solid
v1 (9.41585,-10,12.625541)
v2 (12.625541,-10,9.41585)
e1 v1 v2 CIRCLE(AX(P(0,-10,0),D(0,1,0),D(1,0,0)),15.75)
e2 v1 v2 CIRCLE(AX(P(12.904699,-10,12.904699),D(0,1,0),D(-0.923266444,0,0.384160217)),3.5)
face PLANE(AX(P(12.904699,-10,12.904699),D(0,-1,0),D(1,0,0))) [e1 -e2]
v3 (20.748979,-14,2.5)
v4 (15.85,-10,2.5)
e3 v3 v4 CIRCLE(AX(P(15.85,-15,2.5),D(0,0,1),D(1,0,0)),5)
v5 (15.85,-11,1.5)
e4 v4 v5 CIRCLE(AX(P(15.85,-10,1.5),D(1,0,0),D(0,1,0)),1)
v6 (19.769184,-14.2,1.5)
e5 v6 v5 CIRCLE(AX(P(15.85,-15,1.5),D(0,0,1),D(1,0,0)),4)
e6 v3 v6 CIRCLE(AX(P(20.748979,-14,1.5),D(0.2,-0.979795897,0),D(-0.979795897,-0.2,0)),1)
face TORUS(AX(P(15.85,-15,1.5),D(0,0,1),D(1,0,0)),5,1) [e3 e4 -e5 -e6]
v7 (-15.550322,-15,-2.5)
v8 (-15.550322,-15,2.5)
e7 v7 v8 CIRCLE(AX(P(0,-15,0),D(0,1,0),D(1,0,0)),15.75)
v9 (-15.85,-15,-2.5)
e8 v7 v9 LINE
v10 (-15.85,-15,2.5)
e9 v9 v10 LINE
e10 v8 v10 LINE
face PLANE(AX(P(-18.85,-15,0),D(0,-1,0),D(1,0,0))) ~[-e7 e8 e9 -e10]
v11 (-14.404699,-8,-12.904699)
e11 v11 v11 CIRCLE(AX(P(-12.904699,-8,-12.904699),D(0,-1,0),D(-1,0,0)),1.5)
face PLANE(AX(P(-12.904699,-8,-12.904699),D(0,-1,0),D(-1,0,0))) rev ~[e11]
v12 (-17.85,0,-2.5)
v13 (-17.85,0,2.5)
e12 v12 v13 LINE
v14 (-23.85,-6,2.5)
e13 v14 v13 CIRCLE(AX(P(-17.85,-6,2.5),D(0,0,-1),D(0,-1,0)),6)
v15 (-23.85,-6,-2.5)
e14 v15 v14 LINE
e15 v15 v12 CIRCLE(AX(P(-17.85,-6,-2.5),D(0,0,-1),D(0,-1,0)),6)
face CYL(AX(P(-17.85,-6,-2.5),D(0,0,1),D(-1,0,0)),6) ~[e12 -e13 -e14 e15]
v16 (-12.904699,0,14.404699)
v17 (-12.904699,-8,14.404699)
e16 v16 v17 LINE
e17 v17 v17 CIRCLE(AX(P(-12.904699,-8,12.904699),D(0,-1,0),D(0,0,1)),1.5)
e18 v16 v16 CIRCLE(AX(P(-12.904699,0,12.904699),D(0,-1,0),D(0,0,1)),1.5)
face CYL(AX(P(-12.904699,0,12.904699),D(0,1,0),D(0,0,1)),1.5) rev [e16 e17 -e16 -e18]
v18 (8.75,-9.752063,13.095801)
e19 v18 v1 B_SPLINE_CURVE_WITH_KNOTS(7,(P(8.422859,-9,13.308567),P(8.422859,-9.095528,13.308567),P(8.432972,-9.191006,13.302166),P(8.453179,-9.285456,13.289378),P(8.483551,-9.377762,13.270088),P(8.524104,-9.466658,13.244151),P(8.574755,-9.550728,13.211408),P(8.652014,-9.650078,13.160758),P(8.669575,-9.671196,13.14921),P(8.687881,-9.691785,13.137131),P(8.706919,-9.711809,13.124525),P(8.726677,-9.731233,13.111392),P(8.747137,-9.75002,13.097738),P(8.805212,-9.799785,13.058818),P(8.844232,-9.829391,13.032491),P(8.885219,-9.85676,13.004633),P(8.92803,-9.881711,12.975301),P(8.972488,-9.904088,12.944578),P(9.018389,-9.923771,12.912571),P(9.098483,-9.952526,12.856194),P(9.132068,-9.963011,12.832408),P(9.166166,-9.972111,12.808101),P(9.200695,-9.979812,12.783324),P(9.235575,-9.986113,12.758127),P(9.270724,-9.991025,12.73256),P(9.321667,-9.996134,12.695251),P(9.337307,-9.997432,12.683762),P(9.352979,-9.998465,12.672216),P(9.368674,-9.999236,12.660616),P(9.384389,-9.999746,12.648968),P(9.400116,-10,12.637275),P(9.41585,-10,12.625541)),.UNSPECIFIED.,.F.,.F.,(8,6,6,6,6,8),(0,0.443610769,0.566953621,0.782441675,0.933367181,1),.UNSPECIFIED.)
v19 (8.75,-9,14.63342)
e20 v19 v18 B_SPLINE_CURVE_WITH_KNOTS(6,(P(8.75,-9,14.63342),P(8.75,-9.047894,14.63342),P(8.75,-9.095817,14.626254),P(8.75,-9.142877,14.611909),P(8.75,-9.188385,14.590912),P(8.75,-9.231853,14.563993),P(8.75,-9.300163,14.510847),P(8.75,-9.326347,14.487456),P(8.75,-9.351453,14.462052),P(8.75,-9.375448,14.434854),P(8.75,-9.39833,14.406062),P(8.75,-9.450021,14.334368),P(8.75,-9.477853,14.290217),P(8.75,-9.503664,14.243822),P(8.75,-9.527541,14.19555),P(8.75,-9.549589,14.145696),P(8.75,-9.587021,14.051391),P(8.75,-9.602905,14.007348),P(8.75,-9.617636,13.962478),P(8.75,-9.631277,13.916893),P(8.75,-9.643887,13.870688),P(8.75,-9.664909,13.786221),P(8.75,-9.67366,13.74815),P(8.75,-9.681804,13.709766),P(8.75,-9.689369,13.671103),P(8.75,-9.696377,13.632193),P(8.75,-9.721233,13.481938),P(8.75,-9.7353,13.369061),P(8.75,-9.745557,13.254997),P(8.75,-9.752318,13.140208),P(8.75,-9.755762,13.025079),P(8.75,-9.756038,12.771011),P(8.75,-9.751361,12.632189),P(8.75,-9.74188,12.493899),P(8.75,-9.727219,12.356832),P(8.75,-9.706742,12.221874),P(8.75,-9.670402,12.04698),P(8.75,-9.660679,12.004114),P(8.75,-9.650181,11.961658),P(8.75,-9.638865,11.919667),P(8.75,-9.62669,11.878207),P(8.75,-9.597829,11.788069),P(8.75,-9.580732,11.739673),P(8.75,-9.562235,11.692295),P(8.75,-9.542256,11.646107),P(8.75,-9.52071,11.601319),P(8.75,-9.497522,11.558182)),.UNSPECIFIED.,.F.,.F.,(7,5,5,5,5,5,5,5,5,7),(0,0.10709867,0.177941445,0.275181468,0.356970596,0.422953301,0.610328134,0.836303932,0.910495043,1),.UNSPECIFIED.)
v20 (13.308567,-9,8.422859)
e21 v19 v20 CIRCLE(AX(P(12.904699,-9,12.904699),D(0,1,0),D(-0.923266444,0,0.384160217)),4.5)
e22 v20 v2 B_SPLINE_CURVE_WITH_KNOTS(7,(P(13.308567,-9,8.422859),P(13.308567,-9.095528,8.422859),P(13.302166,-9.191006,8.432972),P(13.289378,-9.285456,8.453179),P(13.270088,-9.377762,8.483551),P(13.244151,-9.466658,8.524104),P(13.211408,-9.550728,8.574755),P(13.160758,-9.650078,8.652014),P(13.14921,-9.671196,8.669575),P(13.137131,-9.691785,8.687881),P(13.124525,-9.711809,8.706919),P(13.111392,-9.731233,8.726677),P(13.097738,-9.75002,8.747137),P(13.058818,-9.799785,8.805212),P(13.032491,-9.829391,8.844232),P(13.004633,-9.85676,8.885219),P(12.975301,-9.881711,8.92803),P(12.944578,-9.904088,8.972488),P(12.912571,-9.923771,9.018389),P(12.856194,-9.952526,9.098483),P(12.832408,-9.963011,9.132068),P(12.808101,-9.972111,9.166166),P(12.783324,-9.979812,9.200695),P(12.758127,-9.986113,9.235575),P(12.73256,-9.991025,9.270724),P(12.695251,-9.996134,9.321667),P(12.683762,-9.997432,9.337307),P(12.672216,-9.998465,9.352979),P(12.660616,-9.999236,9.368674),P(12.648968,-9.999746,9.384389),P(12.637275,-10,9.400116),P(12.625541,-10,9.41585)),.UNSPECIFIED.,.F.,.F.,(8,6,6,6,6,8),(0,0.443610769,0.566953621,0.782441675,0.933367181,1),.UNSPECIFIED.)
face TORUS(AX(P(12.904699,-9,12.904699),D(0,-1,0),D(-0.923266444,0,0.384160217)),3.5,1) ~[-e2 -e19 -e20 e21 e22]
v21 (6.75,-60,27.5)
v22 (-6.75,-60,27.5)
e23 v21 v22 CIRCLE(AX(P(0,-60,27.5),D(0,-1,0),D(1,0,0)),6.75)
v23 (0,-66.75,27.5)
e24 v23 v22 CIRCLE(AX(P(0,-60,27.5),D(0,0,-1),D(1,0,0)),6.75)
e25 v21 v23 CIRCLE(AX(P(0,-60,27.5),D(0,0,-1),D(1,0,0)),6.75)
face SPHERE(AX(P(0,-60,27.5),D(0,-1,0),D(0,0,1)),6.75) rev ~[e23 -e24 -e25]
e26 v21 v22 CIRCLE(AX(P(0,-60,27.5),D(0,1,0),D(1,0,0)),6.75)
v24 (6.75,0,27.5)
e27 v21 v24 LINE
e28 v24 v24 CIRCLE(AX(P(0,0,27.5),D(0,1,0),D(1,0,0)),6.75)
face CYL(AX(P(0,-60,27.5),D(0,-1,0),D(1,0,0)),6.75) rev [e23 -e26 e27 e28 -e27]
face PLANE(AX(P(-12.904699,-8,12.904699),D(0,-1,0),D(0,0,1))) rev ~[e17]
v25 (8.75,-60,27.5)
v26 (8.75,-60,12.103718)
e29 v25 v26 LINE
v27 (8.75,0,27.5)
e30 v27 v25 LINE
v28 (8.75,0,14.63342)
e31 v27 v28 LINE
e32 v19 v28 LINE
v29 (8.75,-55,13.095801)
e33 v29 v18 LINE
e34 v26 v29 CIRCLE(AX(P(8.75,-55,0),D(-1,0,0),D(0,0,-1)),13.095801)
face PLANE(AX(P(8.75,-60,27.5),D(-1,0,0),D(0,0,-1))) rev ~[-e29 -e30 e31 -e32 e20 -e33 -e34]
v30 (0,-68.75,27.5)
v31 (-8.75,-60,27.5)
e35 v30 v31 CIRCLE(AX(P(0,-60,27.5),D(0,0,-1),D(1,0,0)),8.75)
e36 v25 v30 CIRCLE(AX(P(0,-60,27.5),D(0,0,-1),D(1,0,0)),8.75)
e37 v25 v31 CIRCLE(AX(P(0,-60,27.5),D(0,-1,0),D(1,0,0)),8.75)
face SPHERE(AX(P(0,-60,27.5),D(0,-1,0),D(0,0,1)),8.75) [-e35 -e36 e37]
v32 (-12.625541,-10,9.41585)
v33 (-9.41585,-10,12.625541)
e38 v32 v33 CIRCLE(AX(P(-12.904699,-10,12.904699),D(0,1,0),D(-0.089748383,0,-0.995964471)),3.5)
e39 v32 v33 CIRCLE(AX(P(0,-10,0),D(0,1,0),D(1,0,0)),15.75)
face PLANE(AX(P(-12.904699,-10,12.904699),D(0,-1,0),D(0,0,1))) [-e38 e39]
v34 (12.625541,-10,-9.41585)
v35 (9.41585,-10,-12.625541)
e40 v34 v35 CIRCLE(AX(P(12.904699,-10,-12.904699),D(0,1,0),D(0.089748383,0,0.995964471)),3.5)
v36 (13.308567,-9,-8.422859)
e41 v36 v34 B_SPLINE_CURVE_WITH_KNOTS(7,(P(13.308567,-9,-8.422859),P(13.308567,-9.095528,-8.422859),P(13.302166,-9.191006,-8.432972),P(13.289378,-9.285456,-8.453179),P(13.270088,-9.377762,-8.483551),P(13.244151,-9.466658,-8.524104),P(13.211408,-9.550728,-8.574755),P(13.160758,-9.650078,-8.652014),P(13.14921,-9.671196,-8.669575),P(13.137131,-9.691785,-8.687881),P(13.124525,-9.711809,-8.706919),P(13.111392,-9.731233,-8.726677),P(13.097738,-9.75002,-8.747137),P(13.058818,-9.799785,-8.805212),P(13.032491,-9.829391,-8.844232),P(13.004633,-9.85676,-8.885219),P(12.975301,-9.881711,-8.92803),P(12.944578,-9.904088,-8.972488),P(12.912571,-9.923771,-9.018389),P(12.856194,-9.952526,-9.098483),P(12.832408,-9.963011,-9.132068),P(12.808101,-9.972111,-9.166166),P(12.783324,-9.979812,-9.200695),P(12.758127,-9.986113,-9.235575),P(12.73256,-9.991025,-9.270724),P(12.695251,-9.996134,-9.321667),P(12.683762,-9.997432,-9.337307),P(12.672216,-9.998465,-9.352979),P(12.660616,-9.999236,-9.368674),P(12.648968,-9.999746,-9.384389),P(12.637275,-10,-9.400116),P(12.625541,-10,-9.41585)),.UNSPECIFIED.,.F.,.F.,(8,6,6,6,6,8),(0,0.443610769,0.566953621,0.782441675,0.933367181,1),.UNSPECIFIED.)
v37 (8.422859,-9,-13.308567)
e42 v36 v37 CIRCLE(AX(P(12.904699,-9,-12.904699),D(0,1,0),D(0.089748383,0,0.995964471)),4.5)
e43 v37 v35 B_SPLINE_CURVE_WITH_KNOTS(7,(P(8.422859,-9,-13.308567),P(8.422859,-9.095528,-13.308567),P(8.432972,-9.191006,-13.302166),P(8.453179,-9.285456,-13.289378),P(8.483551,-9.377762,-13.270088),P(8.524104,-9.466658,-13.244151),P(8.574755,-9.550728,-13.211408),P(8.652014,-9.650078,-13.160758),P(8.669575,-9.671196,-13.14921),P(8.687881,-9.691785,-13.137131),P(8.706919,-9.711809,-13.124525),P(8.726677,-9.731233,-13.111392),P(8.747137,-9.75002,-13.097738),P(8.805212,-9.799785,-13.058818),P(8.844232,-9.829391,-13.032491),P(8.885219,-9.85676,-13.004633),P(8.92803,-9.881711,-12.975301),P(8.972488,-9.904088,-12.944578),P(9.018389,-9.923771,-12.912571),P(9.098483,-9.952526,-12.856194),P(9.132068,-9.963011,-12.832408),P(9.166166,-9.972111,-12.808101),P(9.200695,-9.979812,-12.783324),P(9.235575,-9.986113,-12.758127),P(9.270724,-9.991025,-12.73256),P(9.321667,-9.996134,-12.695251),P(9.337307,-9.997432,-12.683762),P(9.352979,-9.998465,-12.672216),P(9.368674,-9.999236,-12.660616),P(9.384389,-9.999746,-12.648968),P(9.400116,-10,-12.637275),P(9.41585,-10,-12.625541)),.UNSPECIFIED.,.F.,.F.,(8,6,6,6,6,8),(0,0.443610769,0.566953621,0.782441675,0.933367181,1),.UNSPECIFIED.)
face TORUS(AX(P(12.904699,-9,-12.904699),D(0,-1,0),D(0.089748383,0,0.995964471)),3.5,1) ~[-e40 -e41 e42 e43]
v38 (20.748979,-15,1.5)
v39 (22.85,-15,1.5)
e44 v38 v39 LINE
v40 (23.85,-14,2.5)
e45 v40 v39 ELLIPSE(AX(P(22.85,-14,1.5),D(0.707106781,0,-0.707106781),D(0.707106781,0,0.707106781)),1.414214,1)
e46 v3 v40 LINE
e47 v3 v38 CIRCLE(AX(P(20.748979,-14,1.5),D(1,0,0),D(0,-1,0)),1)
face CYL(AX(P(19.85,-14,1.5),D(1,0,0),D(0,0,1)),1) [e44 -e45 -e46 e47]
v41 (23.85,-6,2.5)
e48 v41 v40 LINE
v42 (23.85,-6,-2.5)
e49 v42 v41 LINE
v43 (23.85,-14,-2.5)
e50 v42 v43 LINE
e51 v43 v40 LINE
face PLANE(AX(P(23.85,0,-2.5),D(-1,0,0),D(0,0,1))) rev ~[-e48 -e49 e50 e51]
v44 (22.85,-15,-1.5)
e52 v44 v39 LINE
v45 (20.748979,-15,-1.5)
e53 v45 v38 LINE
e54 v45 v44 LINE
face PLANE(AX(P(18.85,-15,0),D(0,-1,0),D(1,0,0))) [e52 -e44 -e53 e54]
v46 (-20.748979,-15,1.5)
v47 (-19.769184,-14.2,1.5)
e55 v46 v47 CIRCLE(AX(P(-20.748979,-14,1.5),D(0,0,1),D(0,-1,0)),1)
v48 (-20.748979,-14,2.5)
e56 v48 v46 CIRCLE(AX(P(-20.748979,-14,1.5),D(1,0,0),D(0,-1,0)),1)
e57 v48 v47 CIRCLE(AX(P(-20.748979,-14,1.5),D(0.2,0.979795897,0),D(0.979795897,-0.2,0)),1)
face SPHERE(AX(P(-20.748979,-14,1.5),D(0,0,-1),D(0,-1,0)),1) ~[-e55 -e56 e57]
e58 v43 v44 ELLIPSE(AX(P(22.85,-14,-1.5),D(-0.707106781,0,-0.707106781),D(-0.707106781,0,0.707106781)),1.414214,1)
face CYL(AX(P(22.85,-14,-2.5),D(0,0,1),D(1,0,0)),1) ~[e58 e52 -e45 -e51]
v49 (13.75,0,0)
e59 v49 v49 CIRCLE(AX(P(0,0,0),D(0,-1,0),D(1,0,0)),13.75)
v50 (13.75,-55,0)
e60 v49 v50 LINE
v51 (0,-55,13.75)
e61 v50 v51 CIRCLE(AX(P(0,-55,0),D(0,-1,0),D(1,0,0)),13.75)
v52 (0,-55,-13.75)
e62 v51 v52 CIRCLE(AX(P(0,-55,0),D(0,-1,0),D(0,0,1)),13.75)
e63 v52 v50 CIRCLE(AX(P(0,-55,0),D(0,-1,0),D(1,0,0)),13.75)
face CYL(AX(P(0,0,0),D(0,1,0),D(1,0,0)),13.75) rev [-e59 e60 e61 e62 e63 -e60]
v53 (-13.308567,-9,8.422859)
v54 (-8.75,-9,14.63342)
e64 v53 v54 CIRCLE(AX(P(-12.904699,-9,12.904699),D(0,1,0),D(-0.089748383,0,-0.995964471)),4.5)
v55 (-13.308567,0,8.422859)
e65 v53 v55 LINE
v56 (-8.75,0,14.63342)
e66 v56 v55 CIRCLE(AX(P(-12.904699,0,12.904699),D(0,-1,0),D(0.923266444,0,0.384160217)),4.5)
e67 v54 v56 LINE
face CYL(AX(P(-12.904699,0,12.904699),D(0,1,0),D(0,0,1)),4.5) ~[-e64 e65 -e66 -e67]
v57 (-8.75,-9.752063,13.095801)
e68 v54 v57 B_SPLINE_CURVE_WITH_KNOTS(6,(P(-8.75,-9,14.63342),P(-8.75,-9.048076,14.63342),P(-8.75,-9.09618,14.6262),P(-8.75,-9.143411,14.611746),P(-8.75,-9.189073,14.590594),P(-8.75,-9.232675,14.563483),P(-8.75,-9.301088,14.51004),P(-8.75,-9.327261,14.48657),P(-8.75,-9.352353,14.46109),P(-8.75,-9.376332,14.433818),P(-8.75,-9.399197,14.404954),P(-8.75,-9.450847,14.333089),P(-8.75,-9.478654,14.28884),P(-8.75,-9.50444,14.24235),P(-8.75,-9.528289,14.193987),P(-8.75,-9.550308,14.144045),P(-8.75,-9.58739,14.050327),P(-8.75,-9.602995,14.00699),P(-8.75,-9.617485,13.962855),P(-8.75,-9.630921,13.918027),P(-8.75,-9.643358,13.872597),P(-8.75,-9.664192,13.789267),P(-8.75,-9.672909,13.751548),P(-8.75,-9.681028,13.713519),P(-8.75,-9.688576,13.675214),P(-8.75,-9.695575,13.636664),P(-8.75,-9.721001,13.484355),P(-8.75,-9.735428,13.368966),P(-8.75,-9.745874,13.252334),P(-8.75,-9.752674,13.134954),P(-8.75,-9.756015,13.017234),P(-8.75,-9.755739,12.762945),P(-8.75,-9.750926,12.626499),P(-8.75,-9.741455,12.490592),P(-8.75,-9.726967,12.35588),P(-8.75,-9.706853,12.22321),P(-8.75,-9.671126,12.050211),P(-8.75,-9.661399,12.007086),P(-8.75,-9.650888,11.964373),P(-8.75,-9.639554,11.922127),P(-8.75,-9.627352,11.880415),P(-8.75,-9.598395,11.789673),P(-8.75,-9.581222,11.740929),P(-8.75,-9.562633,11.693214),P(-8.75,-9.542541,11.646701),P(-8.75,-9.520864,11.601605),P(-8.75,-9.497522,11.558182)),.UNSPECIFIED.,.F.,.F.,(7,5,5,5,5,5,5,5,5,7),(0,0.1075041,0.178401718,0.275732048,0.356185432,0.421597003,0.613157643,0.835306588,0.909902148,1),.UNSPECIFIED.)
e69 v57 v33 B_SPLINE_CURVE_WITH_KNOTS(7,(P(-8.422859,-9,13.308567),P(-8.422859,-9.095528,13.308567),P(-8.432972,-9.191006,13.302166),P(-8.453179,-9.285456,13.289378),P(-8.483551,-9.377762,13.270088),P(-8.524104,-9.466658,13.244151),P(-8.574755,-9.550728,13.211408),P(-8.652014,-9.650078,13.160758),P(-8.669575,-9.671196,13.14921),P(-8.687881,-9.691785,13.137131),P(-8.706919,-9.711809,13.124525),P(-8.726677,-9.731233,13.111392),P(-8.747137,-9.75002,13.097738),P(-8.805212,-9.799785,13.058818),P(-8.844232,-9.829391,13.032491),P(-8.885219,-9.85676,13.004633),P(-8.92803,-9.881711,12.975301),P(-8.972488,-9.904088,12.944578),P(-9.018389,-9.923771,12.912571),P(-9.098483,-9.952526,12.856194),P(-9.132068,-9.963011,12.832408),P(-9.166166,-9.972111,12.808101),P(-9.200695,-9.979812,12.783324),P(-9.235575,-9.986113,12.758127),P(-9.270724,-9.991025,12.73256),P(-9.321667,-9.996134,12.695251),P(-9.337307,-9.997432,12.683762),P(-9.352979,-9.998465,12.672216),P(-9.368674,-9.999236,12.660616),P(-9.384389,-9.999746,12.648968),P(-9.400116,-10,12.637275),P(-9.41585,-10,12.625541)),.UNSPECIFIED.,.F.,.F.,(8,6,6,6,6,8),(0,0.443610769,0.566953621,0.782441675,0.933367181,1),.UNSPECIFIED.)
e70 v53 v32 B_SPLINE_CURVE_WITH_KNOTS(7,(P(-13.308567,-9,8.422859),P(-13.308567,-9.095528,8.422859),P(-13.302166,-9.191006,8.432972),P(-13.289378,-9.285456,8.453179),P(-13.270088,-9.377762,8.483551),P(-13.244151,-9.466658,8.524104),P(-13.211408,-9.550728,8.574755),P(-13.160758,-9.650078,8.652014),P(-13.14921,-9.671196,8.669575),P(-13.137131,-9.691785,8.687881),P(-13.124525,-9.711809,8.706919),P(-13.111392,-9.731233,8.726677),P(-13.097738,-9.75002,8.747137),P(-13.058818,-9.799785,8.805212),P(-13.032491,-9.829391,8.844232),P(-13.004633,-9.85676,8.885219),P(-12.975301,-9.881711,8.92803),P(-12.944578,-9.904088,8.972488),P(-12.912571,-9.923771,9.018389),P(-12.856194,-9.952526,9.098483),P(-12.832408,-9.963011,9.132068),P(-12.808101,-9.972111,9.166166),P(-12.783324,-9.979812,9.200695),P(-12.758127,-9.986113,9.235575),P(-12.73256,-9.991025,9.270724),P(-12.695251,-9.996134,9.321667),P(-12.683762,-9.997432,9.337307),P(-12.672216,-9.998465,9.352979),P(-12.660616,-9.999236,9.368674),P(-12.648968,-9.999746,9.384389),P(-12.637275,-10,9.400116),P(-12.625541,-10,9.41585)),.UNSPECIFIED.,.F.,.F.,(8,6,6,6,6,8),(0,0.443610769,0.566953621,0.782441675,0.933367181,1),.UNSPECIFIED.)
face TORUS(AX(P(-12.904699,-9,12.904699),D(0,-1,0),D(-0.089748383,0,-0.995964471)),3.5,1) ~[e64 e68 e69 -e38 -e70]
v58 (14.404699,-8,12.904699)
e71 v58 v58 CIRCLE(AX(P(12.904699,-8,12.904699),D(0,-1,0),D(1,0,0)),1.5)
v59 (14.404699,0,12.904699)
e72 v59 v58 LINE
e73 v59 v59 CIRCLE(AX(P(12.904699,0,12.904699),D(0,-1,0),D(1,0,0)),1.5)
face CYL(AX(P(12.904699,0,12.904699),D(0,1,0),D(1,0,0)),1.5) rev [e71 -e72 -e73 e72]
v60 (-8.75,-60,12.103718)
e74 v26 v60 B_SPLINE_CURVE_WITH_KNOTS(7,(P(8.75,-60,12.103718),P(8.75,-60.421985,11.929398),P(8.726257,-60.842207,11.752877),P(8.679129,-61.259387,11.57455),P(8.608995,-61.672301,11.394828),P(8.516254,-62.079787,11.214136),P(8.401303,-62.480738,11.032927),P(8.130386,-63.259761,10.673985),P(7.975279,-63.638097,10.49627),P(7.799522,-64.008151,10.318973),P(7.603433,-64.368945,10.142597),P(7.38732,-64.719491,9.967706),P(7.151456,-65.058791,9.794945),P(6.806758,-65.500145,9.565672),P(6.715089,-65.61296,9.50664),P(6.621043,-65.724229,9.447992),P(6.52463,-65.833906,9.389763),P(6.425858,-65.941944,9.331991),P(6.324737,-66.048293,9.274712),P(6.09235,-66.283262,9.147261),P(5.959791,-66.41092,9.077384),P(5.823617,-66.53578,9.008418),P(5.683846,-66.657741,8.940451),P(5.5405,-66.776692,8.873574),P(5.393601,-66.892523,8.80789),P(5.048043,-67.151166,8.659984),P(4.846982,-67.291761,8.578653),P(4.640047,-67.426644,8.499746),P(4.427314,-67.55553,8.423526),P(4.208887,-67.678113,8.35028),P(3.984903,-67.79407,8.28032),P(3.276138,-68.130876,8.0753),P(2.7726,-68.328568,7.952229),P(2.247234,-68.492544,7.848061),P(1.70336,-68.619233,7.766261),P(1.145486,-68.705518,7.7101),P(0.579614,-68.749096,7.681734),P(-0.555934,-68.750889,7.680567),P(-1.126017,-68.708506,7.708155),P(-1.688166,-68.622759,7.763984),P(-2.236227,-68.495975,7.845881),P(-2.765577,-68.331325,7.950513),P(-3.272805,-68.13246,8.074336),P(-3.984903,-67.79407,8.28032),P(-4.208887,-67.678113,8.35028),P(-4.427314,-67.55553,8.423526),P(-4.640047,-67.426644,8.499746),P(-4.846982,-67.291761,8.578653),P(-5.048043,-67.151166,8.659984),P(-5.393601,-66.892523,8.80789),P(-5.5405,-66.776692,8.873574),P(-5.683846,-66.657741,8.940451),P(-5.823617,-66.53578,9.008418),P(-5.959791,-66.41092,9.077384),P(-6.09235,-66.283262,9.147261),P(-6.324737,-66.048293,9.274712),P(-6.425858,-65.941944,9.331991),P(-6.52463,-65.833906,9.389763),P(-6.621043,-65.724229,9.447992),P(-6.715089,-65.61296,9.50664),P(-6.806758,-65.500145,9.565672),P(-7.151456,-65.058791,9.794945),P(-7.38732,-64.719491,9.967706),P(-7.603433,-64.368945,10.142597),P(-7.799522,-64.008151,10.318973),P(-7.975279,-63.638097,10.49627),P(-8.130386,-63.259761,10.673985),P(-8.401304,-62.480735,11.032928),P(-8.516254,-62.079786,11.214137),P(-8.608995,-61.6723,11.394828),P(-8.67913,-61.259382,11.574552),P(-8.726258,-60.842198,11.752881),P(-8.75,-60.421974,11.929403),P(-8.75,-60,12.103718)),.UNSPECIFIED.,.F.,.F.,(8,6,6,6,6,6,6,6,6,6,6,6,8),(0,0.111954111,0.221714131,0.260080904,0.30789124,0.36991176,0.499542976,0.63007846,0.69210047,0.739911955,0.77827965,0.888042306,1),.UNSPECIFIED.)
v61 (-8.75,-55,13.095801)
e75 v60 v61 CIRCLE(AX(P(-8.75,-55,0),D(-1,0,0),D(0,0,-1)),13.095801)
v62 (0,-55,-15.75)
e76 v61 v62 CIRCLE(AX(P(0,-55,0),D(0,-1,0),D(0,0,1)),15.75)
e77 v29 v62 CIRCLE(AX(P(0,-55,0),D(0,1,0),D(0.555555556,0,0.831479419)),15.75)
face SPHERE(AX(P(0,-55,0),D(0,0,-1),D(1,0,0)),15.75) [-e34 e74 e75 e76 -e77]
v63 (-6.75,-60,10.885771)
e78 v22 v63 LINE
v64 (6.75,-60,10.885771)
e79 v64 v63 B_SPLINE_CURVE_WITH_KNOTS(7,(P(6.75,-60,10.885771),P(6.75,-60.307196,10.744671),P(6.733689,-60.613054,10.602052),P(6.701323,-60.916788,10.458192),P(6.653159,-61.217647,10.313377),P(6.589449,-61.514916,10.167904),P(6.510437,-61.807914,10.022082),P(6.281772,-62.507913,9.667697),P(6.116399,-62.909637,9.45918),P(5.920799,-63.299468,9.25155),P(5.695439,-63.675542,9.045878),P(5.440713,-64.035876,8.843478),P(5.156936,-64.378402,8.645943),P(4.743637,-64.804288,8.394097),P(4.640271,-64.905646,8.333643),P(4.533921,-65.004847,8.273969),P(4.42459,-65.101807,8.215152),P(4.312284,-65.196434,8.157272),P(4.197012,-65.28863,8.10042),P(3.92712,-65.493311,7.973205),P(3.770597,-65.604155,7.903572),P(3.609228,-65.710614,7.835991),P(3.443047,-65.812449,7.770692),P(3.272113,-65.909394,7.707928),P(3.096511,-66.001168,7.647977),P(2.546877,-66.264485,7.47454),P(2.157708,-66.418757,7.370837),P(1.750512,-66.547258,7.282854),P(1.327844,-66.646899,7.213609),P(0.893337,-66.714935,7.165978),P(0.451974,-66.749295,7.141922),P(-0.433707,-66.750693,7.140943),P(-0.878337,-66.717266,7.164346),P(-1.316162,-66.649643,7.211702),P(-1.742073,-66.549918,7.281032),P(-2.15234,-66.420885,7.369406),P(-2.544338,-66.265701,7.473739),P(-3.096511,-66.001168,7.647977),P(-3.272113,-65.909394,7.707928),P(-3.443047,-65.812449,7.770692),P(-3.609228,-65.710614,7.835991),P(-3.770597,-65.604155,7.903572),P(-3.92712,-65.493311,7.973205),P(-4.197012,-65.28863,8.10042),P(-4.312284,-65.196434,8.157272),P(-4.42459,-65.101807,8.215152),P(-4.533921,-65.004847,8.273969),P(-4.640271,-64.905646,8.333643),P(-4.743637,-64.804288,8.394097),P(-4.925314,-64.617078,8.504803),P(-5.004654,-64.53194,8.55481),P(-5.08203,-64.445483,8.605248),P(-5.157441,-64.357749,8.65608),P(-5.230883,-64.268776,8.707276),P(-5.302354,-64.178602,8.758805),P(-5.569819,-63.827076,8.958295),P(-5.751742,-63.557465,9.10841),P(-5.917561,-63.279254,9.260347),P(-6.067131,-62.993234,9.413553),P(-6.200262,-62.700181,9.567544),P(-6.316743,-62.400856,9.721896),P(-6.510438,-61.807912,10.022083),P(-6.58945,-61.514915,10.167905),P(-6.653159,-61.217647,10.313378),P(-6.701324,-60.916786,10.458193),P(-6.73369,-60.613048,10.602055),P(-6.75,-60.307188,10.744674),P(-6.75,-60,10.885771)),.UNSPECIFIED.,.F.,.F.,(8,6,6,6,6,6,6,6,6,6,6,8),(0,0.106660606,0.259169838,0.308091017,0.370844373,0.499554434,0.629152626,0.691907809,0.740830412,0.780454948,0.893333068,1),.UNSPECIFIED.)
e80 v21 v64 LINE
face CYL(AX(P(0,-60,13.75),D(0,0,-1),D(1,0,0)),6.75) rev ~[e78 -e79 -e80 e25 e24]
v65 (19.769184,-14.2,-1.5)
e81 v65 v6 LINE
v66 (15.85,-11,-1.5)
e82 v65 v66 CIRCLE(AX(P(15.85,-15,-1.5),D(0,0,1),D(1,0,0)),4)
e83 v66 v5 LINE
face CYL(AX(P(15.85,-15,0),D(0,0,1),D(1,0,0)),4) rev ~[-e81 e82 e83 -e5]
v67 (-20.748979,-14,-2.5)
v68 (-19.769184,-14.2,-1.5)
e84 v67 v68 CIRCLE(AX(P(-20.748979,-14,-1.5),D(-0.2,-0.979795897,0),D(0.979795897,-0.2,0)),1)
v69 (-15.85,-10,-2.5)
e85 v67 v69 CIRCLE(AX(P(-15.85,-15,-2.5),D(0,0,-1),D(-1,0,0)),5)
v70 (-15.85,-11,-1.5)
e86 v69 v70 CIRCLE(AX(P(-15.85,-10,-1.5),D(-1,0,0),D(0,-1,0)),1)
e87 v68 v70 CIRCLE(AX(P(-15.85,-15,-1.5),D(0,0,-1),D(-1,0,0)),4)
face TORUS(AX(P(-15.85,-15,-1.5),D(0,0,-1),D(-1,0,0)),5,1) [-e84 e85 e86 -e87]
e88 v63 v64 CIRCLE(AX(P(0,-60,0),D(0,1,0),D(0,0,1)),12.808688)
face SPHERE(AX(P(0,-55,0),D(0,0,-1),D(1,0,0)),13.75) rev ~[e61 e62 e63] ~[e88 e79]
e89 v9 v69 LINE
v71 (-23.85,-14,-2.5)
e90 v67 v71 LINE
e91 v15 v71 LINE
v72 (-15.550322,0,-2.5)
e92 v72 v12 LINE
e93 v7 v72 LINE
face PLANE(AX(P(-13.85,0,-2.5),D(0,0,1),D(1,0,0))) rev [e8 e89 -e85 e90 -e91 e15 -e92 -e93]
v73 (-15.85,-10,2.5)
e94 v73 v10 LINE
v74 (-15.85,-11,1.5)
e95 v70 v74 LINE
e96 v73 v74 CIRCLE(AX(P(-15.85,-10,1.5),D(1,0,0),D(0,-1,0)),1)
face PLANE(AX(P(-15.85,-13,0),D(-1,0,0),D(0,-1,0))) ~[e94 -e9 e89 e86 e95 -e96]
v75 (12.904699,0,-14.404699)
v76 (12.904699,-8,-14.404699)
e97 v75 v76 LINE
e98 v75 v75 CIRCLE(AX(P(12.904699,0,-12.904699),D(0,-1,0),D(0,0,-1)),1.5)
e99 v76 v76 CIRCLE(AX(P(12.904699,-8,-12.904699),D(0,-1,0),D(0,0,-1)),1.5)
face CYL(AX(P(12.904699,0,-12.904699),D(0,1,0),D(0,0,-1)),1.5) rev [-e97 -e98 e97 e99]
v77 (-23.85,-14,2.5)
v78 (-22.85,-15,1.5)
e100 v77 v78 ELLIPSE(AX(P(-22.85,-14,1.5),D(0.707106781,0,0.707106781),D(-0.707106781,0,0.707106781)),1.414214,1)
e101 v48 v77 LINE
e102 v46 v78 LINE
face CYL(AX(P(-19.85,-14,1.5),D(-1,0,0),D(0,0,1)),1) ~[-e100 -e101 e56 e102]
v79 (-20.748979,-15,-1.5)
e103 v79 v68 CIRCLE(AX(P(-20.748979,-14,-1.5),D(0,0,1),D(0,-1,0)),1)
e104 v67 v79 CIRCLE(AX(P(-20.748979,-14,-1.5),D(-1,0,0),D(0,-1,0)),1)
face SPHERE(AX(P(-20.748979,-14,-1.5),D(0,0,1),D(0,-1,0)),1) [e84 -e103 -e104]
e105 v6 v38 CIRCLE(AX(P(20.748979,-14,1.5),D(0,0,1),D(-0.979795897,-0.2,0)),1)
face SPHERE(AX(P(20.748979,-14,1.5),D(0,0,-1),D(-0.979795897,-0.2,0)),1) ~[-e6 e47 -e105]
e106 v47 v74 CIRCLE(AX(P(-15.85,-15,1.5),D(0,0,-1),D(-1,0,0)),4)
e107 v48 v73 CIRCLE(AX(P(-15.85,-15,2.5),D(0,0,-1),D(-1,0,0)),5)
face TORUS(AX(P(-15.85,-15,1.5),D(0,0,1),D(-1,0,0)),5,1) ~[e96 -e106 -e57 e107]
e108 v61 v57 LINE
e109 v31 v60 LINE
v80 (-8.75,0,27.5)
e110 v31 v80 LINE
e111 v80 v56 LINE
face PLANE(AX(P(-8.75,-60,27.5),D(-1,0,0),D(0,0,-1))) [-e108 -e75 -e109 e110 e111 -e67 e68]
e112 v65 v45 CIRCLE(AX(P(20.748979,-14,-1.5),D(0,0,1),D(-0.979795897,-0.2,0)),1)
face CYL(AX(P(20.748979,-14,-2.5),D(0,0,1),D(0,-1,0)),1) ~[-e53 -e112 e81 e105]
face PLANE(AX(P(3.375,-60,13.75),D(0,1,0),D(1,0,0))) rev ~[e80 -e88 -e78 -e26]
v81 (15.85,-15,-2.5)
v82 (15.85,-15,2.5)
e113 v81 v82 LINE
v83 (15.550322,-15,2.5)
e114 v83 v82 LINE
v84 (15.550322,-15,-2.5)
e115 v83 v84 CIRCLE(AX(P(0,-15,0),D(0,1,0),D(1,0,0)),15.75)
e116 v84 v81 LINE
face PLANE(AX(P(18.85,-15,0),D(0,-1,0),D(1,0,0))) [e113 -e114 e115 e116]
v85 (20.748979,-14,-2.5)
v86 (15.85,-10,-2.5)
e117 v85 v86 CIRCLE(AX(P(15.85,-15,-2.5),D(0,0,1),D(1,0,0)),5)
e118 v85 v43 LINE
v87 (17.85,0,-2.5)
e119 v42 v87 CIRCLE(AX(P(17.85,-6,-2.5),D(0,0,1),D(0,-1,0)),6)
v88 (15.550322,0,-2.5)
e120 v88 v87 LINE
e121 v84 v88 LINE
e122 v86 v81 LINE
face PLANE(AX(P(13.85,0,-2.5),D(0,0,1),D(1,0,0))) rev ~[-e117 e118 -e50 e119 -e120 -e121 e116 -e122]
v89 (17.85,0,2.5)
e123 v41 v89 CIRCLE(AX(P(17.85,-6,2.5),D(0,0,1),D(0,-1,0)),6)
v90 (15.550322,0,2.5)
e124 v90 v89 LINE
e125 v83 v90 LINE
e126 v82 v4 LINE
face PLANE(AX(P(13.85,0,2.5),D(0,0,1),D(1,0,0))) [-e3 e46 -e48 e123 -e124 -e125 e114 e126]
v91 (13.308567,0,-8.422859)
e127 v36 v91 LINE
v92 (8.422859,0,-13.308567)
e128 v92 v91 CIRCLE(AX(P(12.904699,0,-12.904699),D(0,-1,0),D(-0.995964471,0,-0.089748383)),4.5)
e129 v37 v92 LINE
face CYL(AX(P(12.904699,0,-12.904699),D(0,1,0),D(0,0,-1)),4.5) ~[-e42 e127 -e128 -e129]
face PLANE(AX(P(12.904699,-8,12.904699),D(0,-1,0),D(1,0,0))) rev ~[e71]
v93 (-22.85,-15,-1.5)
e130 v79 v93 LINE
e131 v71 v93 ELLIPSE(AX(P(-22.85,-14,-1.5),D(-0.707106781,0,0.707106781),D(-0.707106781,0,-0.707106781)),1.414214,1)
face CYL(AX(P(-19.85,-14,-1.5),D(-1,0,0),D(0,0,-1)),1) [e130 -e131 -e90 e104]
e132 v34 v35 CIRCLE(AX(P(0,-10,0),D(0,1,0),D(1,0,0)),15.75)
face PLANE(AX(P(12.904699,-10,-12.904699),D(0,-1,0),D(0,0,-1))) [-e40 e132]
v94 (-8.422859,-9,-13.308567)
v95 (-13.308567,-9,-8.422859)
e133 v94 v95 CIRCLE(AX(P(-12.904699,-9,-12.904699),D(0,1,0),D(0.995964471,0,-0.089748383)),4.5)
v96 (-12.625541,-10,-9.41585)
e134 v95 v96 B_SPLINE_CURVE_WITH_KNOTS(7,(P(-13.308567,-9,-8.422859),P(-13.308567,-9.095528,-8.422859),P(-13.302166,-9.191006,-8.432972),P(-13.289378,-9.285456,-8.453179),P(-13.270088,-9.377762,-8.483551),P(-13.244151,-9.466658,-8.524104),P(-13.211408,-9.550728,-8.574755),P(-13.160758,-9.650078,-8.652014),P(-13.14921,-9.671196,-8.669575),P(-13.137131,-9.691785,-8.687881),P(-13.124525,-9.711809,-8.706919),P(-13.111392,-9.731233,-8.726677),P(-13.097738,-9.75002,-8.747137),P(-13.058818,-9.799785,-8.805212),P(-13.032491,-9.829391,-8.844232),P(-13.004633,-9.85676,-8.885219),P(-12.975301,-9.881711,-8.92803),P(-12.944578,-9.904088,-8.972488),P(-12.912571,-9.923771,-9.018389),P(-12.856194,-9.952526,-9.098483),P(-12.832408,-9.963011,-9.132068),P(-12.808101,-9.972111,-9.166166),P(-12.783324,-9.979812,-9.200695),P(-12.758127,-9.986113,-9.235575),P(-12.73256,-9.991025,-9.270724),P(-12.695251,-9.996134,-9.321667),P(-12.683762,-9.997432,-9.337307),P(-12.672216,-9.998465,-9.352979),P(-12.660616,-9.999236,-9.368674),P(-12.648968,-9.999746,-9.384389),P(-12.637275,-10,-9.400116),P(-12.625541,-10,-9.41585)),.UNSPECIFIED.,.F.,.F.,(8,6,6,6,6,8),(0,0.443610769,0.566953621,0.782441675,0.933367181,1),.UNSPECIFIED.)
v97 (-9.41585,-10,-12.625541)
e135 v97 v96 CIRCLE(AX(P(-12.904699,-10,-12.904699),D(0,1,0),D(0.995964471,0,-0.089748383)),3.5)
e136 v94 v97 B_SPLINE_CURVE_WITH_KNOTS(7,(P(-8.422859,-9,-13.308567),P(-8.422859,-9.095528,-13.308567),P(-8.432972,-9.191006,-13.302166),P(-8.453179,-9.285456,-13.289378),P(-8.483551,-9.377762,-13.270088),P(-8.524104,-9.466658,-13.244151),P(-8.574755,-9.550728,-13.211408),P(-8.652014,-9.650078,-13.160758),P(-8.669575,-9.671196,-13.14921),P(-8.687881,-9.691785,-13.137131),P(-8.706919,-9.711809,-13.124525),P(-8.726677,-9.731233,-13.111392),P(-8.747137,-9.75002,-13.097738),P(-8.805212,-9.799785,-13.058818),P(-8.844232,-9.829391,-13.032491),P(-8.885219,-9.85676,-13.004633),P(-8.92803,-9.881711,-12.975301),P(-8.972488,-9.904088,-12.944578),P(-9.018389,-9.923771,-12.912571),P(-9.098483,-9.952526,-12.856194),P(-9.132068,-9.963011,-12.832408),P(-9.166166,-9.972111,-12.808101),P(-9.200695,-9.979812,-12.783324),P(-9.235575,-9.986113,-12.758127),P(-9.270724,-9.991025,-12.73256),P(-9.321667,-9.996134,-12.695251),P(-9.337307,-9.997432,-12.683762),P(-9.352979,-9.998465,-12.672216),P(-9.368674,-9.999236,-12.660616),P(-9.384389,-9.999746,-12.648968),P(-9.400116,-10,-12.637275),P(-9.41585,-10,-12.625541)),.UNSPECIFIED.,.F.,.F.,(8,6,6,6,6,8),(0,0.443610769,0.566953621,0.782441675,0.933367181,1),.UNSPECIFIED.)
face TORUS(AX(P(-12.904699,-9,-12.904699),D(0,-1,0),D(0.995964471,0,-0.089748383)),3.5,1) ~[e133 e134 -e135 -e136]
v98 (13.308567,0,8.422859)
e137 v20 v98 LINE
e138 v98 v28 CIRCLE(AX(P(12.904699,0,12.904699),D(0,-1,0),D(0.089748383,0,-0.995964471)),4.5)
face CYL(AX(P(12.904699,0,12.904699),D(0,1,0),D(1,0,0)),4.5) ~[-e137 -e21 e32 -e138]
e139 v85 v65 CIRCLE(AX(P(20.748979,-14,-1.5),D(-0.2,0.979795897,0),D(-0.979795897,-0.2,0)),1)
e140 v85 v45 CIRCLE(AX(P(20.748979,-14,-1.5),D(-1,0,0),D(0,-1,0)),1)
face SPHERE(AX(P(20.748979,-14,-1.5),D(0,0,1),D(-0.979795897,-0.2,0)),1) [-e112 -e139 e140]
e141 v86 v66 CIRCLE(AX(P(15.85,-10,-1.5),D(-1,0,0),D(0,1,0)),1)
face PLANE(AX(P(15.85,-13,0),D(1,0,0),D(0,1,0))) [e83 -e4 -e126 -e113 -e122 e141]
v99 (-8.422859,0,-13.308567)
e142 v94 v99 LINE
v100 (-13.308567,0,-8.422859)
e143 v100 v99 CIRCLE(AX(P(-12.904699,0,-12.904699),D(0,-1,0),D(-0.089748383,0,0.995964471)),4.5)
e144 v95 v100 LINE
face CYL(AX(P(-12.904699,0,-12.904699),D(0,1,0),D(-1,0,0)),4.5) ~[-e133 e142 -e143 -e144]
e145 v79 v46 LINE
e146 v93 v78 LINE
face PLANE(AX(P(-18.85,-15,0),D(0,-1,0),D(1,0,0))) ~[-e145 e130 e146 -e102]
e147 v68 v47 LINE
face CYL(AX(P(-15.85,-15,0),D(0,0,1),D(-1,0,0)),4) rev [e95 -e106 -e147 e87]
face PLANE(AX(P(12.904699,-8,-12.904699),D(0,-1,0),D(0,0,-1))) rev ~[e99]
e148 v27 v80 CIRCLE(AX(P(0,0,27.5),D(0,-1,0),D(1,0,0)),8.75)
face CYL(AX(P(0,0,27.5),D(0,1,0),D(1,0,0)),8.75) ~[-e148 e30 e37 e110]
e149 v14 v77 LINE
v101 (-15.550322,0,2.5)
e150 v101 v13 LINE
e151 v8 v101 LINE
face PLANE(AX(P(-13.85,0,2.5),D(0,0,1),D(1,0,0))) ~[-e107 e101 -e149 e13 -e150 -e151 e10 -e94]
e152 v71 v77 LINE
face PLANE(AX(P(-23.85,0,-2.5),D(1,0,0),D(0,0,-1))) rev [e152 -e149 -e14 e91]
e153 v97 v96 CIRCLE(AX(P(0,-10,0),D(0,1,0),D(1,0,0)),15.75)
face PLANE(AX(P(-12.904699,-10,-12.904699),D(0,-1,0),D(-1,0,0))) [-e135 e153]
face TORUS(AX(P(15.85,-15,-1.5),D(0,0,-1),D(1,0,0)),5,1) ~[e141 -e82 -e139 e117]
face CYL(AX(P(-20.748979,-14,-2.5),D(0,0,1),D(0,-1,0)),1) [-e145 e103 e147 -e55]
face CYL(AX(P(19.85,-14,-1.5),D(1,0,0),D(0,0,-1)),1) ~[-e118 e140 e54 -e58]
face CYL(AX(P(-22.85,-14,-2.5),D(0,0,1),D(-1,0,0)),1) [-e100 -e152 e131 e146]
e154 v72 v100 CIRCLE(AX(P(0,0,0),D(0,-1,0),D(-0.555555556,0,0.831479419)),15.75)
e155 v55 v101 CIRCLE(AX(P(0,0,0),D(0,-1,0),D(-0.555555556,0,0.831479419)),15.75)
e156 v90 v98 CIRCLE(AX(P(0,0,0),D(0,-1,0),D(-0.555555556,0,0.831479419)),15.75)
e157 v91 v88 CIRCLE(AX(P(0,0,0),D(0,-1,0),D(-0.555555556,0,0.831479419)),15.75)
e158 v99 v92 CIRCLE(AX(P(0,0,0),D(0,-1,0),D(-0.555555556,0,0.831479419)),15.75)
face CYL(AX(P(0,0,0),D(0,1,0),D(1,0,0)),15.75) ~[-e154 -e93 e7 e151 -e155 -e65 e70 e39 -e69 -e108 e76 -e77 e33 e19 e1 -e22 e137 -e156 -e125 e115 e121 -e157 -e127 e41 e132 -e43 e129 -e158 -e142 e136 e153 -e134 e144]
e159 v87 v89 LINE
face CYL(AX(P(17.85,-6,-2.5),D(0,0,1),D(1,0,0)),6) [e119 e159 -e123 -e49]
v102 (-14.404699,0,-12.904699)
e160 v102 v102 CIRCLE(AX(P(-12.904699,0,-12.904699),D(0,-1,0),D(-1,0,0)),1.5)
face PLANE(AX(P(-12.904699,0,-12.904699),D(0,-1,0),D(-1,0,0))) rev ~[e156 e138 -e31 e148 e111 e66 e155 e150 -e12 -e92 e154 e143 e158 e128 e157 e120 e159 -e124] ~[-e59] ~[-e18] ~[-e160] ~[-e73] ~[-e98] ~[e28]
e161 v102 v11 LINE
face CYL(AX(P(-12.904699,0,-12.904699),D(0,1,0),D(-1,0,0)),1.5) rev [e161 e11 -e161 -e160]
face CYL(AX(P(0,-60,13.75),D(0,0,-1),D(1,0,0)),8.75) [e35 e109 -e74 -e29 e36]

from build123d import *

# Parameters (mm, degrees)
CYLINDER001_R         = 8.75
CYLINDER001_DEPTH     = 60
BOX_W                 = 17.5
BOX_H                 = 27.5
BOX_DEPTH             = 60
SPHERE_ANGLE          = 180
CYLINDER_W            = 8.75
CYLINDER_H            = 27.5
CYLINDER_ANGLE        = 180
CYLINDER002_R         = 15.75
CYLINDER002_DEPTH     = 55
CYLINDER003_R         = 13.75
CYLINDER003_DEPTH     = 55
CYLINDER004_W         = 6.75
CYLINDER004_H         = 27.5
CYLINDER004_ANGLE     = 180
SPHERE003_ANGLE       = 180
CYLINDER005_R         = 6.75
CYLINDER005_DEPTH     = 60
CYLINDER006_R         = 4.5
CYLINDER006_DEPTH     = 10
POLARPATTERN_COUNT    = 4
CYLINDER007_R         = 1.5
CYLINDER007_DEPTH     = 8
POLARPATTERN001_COUNT = 4
BOX018_W              = 10
BOX018_H              = 5
BOX018_DEPTH          = 15
CYLINDER022_W         = 4
CYLINDER022_H         = 5
CYLINDER022_ANGLE     = 90
FILLET017_R           = 1
FILLET018_R           = 6


with BuildPart() as part:
    # Cylinder001 → Cylinder001 (join)
    with BuildSketch(Plane(origin=(0, 0, 27.5), x_dir=(1, 0, 0), z_dir=(0, -1, 0))):
        Circle(CYLINDER001_R)
    extrude(amount=CYLINDER001_DEPTH)

    # Box → Box (join)
    with BuildSketch(Plane(origin=(-8.75, -60, 27.5), x_dir=(1, 0, 0), z_dir=(0, 1, 0))):
        with Locations((8.75, 13.75)):
            Rectangle(BOX_W, BOX_H)
    extrude(amount=BOX_DEPTH)

    # Sphere → Sphere (revolve)
    with BuildSketch(Plane(origin=(0, -55, 0), x_dir=(1, 0, 0), z_dir=(0, 1, 0))):
        with BuildLine():
            ThreePointArc((0, -15.75), (15.75, 0), (0, 15.75))
            Line((0, 15.75), (0, -15.75))
        make_face()
    revolve(axis=Axis((0, -55, 0), (0, 0, -1)), revolution_arc=SPHERE_ANGLE)

    # Sphere002 → Sphere002 (revolve)
    with BuildSketch(Plane(origin=(0, -60, 27.5), x_dir=(0, 0, 1), z_dir=(1, 0, 0))):
        with BuildLine():
            ThreePointArc((0, -8.75), (8.75, 0), (0, 8.75))
            Line((0, 8.75), (0, -8.75))
        make_face()
    revolve(axis=Axis((0, -60, 27.5), (0, -1, 0)))

    # Cylinder → Cylinder (revolve)
    with BuildSketch(Plane(origin=(0, -60, 27.5), x_dir=(1, 0, 0), z_dir=(0, 1, 0))):
        with Locations((4.375, 13.75)):
            Rectangle(CYLINDER_W, CYLINDER_H)
    revolve(axis=Axis((0, -60, 27.5), (0, 0, -1)), revolution_arc=CYLINDER_ANGLE)

    # Cylinder002 → Cylinder002 (join)
    with BuildSketch(Plane.XZ):
        Circle(CYLINDER002_R)
    extrude(amount=CYLINDER002_DEPTH)

    # Cylinder003 → Cylinder003 (cut)
    with BuildSketch(Plane.XZ):
        Circle(CYLINDER003_R)
    extrude(amount=CYLINDER003_DEPTH, mode=Mode.SUBTRACT)

    # Cylinder004 → Cylinder004 (revolve, cut)
    with BuildSketch(Plane(origin=(0, -60, 27.5), x_dir=(1, 0, 0), z_dir=(0, 1, 0))):
        with Locations((3.375, 13.75)):
            Rectangle(CYLINDER004_W, CYLINDER004_H)
    revolve(axis=Axis((0, -60, 27.5), (0, 0, -1)), revolution_arc=CYLINDER004_ANGLE, mode=Mode.SUBTRACT)

    # Sphere003 → Sphere003 (revolve, cut)
    with BuildSketch(Plane(origin=(0, -55, 0), x_dir=(1, 0, 0), z_dir=(0, 1, 0))):
        with BuildLine():
            ThreePointArc((0, -13.75), (13.75, 0), (0, 13.75))
            Line((0, 13.75), (0, -13.75))
        make_face()
    revolve(axis=Axis((0, -55, 0), (0, 0, -1)), revolution_arc=SPHERE003_ANGLE, mode=Mode.SUBTRACT)

    # Cylinder005 → Cylinder005 (cut)
    with BuildSketch(Plane(origin=(0, -60, 27.5), x_dir=(1, 0, 0), z_dir=(0, 1, 0))):
        Circle(CYLINDER005_R)
    extrude(amount=CYLINDER005_DEPTH, mode=Mode.SUBTRACT)

    # Sphere004 → Sphere004 (revolve, cut)
    with BuildSketch(Plane(origin=(0, -60, 27.5), x_dir=(0, 0, 1), z_dir=(1, 0, 0))):
        with BuildLine():
            ThreePointArc((0, -6.75), (6.75, 0), (0, 6.75))
            Line((0, 6.75), (0, -6.75))
        make_face()
    revolve(axis=Axis((0, -60, 27.5), (0, -1, 0)), mode=Mode.SUBTRACT)

    # Cylinder006 → Cylinder006 (join)
    with BuildSketch(Plane(origin=(-12.904699, 0, 12.904699), x_dir=(0, 0, 1), z_dir=(0, -1, 0))):
        Circle(CYLINDER006_R)
    cylinder006 = extrude(amount=CYLINDER006_DEPTH)

    # PolarPattern: Cylinder006 ×4 about axis
    polarpattern_axis = Axis((0, 0, 0), (0, 1, 0))
    for i in range(1, POLARPATTERN_COUNT):
        add(cylinder006.rotate(polarpattern_axis, i * 360 / POLARPATTERN_COUNT))

    # Cylinder007 → Cylinder007 (cut)
    with BuildSketch(Plane(origin=(-12.904699, 0, 12.904699), x_dir=(0, 0, 1), z_dir=(0, -1, 0))):
        Circle(CYLINDER007_R)
    cylinder007 = extrude(amount=CYLINDER007_DEPTH, mode=Mode.SUBTRACT)

    # PolarPattern001: Cylinder007 ×4 about axis
    polarpattern001_axis = Axis((0, 0, 0), (0, 1, 0))
    for i in range(1, POLARPATTERN001_COUNT):
        add(cylinder007.rotate(polarpattern001_axis, i * 360 / POLARPATTERN001_COUNT), mode=Mode.SUBTRACT)

    # Box018 → Box018 (join)
    with BuildSketch(Plane(origin=(13.85, 0, -2.5), x_dir=(1, 0, 0), z_dir=(0, -1, 0))):
        with Locations((5, 2.5)):
            Rectangle(BOX018_W, BOX018_H)
    box018 = extrude(amount=BOX018_DEPTH)

    # Mirrored008: Box018 across YZ
    add(box018.mirror(Plane.YZ))

    # Cylinder022 → Cylinder022 (revolve, cut)
    with BuildSketch(Plane(origin=(15.85, -15, -2.5), x_dir=(1, 0, 0), z_dir=(0, -1, 0))):
        with Locations((2, 2.5)):
            Rectangle(CYLINDER022_W, CYLINDER022_H)
    cylinder022 = revolve(axis=Axis((15.85, -15, -2.5), (0, 0, 1)), revolution_arc=CYLINDER022_ANGLE, mode=Mode.SUBTRACT)

    # Mirrored009: Cylinder022 across YZ
    add(cylinder022.mirror(Plane.YZ), mode=Mode.SUBTRACT)

    # Fillet017
    fillet017_edges = [part.edges().sort_by_distance(p)[0] for p in [
        (-18.678427, -12.171573, 2.5),
        (-19.85, -15, 0),
        (-21.85, -15, -2.5),
        (-23.85, -15, 0),
        (-21.85, -15, 2.5),
        (-18.678427, -12.171573, -2.5),
        (13.786134, -10, 17.317529),
        (18.678427, -12.171573, 2.5),
        (21.85, -15, 2.5),
        (23.85, -15, 0),
        (21.85, -15, -2.5),
        (19.85, -15, 0),
        (17.400156, -10, -13.106837),
        (18.678427, -12.171573, -2.5),
        (-17.400156, -10, 13.106837),
        (-13.106837, -10, -17.400156),
    ]]
    fillet(fillet017_edges, radius=FILLET017_R)

    # Fillet018
    fillet018_edges = [part.edges().sort_by_distance(p)[0] for p in [
        (23.85, 0, 0),
        (-23.85, 0, 0),
    ]]
    fillet(fillet018_edges, radius=FILLET018_R)


solid = part.part
